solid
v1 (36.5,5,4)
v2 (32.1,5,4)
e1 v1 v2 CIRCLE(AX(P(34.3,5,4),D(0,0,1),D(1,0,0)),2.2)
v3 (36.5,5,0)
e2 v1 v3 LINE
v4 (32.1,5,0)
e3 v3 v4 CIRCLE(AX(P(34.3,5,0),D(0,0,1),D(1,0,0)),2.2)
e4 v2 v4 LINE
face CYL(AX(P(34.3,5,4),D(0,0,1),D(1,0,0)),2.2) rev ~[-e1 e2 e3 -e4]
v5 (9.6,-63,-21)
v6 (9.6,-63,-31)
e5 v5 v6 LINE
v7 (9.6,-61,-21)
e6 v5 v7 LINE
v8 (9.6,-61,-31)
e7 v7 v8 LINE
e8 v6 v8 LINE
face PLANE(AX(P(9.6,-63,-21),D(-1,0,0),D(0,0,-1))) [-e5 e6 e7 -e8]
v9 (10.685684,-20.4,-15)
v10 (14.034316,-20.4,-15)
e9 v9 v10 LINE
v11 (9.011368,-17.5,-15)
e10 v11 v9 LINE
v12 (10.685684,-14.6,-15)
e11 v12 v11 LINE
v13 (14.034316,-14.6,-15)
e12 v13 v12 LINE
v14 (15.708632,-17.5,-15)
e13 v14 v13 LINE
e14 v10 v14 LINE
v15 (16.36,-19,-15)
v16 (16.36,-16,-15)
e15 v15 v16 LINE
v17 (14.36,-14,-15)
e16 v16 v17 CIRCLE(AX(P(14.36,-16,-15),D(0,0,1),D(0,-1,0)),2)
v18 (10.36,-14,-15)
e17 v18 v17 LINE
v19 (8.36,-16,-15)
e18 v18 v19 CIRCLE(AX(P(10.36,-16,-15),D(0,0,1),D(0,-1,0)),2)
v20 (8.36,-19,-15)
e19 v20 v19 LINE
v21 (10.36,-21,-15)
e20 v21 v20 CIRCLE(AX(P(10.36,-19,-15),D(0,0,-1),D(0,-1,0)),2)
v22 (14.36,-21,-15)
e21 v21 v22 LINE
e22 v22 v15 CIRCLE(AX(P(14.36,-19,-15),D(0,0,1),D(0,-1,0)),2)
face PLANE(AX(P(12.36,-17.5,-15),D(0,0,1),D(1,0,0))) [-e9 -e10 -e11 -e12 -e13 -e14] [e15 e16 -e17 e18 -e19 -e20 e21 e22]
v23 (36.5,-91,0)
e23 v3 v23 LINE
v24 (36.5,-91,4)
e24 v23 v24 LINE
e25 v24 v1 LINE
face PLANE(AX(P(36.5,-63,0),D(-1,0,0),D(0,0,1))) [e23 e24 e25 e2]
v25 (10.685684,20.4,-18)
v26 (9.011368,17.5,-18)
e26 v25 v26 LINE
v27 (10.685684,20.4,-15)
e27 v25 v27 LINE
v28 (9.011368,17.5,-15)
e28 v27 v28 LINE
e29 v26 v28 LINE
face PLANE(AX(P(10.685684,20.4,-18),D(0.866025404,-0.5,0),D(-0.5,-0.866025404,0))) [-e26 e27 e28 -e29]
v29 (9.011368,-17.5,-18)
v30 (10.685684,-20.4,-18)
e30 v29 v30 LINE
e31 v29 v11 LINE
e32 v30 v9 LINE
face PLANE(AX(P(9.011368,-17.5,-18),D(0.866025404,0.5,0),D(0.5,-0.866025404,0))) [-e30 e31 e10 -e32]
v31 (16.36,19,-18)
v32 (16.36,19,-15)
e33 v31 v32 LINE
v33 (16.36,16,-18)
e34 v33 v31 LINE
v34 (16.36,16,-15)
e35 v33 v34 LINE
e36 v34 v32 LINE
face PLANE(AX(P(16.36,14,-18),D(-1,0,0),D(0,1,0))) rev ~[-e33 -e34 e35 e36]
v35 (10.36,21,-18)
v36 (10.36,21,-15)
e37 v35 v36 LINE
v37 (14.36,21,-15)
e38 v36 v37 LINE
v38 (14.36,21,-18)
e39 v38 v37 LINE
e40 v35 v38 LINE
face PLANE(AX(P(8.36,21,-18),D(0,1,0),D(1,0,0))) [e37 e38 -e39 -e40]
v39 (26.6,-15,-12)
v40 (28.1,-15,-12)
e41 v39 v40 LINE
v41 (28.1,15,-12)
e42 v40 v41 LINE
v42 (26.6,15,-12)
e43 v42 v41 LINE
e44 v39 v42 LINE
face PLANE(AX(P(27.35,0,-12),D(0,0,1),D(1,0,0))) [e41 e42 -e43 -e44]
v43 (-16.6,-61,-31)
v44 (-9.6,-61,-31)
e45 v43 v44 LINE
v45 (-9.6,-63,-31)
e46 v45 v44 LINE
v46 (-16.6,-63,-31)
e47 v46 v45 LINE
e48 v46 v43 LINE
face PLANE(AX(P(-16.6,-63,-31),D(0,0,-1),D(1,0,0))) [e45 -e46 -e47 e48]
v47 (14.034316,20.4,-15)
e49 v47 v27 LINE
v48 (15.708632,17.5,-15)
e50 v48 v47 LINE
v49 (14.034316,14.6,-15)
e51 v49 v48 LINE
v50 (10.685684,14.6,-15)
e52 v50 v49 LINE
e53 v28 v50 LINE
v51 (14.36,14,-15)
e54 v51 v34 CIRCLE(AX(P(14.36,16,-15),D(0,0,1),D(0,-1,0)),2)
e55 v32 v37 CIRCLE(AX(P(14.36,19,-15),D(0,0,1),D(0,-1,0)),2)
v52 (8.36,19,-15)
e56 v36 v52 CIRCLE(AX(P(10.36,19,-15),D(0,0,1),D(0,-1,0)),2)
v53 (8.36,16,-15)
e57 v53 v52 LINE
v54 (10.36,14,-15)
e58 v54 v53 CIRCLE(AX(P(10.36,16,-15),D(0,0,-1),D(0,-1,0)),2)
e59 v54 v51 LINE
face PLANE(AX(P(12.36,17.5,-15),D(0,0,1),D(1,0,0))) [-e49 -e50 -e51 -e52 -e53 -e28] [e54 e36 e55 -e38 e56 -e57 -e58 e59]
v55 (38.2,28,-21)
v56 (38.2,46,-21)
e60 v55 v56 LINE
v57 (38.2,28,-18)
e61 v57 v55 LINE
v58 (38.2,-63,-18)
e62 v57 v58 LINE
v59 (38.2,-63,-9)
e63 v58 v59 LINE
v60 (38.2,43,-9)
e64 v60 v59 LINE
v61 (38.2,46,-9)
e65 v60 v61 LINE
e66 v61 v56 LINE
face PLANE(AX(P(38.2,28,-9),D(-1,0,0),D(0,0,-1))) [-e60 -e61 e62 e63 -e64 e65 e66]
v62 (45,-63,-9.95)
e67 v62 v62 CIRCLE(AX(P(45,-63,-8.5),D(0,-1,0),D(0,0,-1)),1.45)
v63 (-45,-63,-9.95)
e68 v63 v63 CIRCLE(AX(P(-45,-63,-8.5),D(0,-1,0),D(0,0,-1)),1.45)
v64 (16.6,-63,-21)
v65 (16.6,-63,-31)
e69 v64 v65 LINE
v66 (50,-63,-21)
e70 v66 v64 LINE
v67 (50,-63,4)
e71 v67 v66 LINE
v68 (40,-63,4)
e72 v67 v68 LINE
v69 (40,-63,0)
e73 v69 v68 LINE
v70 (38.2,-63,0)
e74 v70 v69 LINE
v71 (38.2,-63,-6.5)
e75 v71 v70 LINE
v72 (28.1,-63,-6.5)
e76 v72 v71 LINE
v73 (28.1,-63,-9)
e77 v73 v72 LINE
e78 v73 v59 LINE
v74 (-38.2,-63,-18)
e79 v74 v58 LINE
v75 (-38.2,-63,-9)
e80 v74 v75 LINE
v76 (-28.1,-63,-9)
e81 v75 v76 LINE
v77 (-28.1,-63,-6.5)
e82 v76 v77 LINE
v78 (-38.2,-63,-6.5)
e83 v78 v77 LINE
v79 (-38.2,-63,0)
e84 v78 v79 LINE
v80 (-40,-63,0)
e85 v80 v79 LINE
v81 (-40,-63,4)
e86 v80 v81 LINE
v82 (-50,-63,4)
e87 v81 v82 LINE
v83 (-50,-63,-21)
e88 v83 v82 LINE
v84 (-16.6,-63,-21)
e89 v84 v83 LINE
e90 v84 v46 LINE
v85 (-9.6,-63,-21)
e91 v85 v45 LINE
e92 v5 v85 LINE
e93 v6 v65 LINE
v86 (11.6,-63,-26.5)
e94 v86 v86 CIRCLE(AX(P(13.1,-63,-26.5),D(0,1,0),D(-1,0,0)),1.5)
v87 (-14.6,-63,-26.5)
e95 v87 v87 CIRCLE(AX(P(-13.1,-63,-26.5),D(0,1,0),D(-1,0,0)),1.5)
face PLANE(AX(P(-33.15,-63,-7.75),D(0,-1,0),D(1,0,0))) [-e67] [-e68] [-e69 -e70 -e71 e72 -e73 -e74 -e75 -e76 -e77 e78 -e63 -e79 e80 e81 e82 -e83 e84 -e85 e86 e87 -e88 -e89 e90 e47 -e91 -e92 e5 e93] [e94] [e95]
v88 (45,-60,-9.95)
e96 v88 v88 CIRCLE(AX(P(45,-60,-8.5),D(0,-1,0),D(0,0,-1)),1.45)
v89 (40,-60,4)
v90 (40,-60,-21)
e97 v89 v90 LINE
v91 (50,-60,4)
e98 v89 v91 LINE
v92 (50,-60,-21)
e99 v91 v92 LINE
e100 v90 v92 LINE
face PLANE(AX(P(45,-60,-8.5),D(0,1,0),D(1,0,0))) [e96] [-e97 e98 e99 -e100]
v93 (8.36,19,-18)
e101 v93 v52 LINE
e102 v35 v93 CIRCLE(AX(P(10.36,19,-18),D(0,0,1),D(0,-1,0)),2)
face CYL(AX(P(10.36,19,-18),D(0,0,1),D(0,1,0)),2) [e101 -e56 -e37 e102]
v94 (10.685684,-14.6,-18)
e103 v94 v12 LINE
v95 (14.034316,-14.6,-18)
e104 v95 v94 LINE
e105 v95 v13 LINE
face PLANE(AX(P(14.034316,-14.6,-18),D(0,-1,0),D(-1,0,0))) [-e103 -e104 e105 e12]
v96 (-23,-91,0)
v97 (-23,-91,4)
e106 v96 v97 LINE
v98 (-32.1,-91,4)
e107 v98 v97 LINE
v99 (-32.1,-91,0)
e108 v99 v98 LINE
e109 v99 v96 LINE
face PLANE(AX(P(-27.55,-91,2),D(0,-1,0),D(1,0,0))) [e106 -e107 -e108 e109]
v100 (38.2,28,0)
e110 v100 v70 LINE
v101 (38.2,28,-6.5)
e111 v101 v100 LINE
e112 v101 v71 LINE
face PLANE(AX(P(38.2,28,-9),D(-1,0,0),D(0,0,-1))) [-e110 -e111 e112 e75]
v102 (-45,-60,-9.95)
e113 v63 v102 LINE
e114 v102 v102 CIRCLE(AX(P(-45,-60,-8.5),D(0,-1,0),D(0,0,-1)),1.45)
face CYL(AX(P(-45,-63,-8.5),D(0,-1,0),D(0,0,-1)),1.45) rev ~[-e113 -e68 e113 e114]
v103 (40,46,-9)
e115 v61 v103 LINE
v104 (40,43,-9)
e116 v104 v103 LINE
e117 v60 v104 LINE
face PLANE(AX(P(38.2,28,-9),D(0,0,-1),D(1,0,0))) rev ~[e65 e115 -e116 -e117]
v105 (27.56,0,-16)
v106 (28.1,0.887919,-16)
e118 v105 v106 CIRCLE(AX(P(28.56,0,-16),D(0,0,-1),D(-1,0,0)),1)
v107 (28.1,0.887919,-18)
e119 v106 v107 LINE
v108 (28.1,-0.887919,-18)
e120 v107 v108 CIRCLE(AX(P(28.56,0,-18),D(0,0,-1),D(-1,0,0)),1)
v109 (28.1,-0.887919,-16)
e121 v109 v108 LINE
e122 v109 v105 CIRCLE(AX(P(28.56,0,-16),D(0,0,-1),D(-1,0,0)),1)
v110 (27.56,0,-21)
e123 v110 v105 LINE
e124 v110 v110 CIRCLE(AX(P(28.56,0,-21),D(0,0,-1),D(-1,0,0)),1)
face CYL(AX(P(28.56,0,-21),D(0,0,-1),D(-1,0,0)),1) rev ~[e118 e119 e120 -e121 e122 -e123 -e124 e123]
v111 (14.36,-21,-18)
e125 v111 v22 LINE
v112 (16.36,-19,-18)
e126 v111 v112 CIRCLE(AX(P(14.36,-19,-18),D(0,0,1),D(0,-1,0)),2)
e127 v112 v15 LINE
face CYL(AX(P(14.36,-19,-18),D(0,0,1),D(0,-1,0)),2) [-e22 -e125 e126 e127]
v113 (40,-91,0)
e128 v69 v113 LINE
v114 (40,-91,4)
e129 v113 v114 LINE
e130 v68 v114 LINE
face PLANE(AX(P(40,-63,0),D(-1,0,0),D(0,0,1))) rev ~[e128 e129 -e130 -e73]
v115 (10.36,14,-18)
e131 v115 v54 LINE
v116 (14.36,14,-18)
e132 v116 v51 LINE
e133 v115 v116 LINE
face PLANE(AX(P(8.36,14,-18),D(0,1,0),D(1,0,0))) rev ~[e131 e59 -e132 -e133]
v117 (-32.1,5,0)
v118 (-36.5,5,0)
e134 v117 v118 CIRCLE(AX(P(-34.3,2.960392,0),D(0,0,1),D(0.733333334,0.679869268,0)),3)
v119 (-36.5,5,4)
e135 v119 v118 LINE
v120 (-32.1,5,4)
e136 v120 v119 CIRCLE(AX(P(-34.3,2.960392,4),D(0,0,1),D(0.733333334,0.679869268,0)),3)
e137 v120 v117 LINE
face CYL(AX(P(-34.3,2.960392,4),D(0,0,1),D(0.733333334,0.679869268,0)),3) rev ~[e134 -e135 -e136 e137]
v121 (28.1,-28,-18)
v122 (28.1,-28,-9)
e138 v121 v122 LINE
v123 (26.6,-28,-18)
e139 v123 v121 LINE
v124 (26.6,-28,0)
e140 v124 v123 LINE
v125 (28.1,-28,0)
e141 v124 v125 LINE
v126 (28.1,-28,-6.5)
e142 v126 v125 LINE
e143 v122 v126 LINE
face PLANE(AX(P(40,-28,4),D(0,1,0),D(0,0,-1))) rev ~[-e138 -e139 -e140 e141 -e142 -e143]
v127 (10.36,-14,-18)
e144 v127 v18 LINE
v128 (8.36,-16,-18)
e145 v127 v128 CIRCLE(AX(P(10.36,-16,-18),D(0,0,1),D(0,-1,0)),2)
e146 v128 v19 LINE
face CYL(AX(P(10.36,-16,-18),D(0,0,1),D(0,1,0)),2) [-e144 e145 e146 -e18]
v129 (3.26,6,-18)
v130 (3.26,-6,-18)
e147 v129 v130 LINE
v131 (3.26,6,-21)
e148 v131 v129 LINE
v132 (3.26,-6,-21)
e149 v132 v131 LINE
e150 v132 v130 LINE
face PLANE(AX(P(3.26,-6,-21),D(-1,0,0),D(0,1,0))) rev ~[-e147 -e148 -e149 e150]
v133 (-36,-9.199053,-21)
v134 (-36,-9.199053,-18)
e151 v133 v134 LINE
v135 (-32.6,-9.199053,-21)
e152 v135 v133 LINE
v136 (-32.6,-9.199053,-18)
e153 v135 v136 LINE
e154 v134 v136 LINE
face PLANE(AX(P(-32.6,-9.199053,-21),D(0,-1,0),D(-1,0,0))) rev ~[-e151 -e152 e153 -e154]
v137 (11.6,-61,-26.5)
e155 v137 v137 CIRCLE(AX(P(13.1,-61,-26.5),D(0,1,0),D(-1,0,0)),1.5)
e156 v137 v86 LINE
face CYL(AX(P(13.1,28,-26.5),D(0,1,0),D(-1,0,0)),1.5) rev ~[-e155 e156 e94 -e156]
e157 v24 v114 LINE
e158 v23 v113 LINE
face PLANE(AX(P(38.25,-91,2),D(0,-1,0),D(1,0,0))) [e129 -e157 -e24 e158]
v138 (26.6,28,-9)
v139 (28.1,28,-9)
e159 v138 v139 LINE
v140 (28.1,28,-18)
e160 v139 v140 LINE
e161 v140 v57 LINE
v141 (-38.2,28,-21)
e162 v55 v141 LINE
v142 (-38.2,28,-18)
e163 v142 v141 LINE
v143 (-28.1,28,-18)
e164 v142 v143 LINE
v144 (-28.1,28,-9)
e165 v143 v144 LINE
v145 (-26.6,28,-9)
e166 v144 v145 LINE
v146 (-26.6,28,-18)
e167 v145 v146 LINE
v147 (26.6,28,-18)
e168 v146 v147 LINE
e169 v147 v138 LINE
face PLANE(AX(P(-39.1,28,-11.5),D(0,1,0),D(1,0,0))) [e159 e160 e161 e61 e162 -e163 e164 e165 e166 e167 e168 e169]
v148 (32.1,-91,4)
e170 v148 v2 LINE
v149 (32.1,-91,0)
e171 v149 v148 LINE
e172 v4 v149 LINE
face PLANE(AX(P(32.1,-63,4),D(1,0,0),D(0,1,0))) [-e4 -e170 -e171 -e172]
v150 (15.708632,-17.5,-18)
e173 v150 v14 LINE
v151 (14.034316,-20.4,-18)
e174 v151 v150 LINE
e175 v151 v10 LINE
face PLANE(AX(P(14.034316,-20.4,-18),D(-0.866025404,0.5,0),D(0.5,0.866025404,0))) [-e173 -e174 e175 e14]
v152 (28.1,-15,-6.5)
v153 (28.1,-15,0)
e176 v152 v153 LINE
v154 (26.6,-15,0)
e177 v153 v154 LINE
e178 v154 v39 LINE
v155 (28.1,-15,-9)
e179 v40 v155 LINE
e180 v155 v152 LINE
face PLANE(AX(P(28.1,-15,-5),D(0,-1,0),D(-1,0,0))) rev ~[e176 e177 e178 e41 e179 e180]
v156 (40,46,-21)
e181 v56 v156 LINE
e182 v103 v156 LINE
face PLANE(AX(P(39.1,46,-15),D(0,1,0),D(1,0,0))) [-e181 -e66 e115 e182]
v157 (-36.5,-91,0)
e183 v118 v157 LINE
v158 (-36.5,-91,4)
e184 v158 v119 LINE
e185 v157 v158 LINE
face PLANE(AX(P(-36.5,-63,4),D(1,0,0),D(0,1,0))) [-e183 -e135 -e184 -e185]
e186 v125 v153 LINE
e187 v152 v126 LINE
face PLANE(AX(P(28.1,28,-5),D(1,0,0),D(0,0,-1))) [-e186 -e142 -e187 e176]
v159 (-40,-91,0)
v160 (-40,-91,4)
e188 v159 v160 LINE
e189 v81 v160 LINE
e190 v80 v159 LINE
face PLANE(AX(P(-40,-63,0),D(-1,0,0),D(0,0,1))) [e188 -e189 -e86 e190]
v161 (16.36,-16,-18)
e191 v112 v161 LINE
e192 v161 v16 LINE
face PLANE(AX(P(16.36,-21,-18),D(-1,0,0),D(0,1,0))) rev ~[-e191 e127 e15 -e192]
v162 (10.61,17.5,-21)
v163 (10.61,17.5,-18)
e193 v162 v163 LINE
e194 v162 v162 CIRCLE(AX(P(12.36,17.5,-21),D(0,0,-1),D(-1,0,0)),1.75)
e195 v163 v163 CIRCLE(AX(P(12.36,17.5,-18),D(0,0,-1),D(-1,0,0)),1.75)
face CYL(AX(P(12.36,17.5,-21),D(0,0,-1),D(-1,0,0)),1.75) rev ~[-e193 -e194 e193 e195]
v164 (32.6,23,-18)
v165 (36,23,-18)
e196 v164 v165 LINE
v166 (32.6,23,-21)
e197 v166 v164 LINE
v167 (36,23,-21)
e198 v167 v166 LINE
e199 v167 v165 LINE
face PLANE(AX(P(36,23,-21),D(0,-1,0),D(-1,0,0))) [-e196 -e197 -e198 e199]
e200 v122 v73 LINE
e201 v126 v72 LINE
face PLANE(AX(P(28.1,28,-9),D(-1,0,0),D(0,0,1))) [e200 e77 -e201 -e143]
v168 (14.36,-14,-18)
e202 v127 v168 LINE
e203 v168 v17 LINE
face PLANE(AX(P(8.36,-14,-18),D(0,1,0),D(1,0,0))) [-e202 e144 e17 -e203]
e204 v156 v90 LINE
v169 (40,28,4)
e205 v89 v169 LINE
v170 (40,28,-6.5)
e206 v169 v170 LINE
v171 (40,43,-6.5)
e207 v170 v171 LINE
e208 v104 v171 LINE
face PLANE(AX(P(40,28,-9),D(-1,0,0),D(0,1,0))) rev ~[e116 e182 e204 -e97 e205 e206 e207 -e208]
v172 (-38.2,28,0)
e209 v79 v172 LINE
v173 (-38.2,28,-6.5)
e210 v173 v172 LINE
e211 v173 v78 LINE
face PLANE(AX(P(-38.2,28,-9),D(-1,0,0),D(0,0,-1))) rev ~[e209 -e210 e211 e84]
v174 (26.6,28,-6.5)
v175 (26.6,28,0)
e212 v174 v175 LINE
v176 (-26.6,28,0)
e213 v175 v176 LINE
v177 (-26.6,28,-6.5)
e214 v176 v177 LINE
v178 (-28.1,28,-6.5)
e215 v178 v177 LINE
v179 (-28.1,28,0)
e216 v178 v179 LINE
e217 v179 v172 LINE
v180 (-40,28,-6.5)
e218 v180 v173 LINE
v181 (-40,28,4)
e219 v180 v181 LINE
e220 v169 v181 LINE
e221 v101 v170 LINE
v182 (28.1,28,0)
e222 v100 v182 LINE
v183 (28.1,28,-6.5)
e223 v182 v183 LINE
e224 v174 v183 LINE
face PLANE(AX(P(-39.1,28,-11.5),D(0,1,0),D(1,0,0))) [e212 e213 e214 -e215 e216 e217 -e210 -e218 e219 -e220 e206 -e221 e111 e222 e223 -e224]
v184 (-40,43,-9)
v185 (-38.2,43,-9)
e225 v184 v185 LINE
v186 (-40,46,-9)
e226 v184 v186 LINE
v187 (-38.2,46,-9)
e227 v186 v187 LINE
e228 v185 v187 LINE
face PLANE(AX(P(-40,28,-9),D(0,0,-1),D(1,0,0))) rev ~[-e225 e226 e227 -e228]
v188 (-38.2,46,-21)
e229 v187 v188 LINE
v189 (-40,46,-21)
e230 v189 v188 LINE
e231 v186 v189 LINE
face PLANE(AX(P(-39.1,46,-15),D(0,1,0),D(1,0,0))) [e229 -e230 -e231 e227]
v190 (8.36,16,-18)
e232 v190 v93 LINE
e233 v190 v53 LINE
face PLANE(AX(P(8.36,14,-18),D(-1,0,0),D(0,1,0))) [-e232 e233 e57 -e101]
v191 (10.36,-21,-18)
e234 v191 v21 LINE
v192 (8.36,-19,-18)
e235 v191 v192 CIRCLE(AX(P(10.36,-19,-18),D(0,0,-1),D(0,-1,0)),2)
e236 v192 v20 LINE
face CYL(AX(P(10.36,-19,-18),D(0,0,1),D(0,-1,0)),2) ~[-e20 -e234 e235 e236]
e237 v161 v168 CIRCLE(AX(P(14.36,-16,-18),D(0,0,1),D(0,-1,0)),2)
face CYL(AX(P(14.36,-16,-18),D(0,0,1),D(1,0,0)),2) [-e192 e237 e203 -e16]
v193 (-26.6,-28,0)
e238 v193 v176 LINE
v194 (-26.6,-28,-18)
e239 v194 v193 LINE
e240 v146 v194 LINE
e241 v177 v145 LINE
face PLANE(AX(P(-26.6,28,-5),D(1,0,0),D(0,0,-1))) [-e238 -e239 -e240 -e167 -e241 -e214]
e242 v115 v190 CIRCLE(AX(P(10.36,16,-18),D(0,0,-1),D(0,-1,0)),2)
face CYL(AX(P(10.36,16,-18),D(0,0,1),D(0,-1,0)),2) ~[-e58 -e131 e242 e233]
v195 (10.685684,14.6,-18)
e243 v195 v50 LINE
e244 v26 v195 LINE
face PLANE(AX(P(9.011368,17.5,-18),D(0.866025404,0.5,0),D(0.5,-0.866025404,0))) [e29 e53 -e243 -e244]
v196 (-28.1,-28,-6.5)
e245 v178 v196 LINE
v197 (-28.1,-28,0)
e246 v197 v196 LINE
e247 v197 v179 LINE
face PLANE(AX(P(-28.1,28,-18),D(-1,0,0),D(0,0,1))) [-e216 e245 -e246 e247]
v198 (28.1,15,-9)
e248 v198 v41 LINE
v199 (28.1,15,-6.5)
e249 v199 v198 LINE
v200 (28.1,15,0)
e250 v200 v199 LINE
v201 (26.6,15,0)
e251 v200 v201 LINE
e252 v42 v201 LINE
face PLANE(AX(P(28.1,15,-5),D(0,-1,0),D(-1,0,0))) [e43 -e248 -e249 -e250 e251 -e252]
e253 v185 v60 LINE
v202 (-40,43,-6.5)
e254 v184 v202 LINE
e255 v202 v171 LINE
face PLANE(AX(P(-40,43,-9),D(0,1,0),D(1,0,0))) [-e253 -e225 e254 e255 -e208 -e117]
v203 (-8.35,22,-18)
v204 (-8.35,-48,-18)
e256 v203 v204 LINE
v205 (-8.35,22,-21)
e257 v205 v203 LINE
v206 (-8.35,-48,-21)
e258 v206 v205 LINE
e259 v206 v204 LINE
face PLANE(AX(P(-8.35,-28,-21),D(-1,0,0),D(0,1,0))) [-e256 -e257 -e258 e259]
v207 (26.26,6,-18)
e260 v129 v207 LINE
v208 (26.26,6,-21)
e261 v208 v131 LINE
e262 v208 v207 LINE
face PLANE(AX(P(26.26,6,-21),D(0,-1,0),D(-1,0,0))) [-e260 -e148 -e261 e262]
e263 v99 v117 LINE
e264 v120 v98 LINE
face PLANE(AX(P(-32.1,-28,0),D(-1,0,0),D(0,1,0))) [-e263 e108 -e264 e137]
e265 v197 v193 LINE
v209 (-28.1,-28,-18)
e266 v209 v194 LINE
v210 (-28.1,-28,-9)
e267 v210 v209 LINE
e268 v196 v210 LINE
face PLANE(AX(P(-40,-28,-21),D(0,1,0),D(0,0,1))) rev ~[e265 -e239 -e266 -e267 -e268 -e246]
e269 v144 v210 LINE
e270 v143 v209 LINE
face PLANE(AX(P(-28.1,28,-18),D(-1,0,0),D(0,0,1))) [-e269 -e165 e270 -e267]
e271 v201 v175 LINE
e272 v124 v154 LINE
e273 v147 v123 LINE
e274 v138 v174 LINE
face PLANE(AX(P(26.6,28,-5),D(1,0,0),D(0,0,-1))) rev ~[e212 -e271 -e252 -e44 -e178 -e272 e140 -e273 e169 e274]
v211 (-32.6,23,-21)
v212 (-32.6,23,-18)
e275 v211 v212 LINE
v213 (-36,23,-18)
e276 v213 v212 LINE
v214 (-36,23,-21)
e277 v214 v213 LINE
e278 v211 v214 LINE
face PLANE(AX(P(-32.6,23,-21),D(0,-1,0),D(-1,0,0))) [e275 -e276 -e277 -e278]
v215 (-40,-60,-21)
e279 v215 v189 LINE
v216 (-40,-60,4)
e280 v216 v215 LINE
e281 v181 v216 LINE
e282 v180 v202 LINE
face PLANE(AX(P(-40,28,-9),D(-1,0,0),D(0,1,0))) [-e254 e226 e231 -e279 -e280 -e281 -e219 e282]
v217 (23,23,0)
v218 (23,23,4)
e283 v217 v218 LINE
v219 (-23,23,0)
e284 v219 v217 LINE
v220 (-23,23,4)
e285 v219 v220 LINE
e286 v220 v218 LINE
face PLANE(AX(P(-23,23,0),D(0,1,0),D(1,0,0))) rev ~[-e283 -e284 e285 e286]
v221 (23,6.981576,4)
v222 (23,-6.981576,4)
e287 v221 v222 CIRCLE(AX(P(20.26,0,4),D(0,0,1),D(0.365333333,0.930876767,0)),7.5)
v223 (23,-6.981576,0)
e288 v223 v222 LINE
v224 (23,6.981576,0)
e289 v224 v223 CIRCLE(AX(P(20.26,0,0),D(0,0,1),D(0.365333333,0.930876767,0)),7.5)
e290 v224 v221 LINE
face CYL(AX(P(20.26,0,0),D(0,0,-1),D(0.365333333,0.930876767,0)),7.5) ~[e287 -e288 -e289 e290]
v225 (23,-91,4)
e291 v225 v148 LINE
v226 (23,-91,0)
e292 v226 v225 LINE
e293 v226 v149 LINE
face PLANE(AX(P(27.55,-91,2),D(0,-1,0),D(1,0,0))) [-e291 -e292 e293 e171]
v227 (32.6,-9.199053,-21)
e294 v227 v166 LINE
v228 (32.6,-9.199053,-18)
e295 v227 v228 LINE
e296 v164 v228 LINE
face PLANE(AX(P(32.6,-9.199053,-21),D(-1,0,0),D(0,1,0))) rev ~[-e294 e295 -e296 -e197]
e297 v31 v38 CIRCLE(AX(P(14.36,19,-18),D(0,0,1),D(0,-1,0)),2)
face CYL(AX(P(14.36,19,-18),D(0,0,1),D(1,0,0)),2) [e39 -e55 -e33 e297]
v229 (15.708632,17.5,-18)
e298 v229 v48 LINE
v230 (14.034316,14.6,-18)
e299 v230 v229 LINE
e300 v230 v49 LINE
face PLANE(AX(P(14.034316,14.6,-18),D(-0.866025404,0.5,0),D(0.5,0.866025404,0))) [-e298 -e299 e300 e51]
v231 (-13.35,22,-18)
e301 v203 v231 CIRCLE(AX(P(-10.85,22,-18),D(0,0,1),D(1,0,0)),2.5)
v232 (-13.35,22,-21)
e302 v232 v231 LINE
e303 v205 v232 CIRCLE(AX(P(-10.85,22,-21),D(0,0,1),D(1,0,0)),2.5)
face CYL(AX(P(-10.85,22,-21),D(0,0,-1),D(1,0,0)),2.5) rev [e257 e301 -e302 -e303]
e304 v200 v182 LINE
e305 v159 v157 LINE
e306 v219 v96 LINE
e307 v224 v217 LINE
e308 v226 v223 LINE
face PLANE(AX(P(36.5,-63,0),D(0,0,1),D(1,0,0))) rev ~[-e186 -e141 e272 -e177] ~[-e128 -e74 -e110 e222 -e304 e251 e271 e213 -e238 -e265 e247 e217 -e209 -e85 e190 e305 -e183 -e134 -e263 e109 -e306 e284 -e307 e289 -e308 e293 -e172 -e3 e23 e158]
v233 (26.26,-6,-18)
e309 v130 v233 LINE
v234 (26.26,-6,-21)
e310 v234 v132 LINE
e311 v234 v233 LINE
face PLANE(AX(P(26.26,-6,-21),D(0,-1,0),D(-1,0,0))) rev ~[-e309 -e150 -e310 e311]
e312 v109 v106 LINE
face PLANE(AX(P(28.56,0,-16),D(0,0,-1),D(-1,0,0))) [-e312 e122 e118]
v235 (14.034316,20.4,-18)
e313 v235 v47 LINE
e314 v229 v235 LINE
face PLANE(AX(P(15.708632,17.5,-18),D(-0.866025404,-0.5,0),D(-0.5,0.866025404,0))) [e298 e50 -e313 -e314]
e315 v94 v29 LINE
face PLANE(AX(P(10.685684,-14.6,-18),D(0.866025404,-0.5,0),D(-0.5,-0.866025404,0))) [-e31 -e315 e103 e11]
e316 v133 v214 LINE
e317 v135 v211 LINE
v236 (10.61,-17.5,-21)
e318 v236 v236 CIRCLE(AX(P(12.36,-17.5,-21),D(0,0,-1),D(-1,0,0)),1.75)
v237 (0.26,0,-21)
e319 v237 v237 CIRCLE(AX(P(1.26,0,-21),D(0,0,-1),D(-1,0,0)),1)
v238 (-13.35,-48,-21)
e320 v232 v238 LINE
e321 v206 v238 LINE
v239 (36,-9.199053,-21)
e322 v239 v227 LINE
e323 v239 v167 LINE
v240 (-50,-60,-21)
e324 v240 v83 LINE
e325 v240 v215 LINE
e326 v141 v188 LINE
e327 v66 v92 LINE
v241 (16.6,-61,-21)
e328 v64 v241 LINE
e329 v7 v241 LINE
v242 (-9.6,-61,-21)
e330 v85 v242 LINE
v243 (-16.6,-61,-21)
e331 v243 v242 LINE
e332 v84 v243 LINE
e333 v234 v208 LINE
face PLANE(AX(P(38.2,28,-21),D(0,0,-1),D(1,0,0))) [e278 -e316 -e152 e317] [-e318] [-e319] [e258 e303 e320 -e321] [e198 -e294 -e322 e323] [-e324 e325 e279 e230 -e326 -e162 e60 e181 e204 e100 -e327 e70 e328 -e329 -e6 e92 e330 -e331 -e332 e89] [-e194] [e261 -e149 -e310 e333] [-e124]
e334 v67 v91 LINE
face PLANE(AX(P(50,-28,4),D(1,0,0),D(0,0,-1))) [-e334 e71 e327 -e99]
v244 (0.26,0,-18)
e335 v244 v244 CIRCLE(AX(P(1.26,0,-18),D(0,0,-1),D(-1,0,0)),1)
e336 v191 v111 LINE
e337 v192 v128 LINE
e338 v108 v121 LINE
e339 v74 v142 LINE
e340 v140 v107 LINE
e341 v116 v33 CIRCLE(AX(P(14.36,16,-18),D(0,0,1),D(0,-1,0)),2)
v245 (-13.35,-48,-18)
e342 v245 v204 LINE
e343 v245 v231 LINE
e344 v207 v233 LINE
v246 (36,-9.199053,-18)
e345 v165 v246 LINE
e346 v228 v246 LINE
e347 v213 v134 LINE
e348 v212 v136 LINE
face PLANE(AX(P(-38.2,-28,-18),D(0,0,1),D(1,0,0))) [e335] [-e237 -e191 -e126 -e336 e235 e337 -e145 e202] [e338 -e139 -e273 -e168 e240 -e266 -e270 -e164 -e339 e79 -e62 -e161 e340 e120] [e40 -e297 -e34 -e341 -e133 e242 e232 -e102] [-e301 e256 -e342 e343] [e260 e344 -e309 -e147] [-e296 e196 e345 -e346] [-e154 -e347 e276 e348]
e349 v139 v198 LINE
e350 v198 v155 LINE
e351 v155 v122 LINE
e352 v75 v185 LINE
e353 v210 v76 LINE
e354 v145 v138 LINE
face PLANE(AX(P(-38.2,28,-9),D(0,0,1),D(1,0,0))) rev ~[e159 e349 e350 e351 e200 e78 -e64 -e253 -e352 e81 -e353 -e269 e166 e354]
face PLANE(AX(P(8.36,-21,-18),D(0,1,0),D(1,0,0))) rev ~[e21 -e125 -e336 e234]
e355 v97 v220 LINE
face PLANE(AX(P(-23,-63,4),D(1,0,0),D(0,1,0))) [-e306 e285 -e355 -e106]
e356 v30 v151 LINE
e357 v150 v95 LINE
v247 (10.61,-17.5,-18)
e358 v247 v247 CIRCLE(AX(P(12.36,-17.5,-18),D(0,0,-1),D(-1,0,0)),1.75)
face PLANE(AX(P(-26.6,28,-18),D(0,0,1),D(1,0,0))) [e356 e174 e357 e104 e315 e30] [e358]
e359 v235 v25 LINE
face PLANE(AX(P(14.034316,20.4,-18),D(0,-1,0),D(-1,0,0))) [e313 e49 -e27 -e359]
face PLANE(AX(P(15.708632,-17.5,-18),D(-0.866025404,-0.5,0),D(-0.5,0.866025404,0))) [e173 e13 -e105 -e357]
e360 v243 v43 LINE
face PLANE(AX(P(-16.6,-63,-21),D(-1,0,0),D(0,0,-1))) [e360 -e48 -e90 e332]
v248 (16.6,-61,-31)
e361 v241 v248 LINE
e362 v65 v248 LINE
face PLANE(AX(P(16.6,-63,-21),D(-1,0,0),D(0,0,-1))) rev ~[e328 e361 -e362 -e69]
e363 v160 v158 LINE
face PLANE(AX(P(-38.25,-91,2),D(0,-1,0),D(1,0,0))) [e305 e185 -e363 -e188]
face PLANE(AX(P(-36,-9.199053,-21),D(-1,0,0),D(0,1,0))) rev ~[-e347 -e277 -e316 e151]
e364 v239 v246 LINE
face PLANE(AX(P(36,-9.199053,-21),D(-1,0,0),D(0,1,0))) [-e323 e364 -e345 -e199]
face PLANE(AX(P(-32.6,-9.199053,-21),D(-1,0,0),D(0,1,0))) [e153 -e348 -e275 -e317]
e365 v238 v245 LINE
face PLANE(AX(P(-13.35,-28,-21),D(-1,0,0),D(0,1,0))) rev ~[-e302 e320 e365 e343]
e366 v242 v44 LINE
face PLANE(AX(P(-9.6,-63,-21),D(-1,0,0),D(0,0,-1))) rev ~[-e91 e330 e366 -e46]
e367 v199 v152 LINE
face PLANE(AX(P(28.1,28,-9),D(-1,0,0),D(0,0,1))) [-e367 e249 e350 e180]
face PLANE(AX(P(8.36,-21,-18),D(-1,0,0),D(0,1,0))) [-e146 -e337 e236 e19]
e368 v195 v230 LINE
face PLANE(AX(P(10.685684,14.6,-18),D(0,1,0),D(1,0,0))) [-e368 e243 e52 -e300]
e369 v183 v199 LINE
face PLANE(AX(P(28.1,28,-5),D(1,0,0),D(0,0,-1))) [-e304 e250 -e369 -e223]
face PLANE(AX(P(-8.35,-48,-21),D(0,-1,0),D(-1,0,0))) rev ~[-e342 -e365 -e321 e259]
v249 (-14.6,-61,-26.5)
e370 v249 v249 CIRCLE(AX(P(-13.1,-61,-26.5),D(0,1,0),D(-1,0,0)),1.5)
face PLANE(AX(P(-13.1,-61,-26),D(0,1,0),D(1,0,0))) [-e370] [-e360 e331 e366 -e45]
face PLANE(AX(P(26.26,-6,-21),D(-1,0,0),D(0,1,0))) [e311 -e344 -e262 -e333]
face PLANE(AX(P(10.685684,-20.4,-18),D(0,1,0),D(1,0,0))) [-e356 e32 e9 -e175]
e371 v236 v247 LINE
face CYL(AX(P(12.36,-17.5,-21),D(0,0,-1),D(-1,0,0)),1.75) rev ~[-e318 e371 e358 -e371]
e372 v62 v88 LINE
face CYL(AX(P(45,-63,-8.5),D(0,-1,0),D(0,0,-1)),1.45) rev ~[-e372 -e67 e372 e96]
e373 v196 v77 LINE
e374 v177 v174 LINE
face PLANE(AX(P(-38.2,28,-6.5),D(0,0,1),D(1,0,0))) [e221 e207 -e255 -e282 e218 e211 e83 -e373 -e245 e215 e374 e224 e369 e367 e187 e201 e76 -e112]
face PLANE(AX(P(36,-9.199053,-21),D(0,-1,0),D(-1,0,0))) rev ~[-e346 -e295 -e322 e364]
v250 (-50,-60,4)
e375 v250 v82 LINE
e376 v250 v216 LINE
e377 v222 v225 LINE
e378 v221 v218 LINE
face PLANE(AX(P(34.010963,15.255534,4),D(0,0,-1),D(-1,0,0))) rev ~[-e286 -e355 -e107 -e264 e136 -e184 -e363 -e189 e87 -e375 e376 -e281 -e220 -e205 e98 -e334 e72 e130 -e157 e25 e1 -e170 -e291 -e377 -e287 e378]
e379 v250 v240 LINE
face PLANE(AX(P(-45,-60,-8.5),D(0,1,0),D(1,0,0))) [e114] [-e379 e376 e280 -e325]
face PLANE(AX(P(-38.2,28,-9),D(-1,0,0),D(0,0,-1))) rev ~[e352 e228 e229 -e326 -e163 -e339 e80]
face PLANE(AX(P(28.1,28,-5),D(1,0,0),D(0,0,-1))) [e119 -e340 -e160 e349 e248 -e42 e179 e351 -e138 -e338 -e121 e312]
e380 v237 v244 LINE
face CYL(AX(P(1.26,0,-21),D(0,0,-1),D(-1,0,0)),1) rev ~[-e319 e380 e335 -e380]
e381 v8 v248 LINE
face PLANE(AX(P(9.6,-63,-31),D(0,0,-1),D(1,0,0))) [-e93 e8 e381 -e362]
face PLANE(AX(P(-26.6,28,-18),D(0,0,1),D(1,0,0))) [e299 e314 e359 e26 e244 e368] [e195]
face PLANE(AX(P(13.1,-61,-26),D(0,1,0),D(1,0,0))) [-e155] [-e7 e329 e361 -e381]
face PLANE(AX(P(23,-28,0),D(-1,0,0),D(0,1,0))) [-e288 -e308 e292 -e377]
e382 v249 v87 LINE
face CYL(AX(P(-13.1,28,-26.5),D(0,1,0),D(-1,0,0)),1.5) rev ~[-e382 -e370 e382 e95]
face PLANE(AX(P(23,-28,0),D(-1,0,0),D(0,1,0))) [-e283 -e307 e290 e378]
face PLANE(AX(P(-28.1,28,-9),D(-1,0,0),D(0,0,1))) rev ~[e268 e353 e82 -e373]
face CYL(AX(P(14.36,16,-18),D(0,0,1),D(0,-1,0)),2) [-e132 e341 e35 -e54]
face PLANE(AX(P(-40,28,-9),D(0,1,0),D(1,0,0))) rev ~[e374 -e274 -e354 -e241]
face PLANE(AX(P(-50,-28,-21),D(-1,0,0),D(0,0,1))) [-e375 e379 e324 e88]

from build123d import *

# Parameters (mm, degrees)
SKETCH1_W            = 9.1
SKETCH1_H            = 51
SKETCH1_W_2          = 23
SKETCH1_H_2          = 5
BOSS_EXTRUDE1_DEPTH  = 4
SKETCH2_W            = 1.8
SKETCH2_H            = 56
SKETCH2_W_2          = 1.5
BOSS_EXTRUDE2_DEPTH  = 5
SKETCH3_W            = 1.5
SKETCH3_H            = 30
CUT_EXTRUDE1_DEPTH   = 5
SKETCH4_W            = 1.8
SKETCH4_H            = 13
SKETCH4_W_2          = 1.5
SKETCH4_H_2          = 3
SKETCH4_W_3          = 10.1
SKETCH4_W_4          = 53.2
BOSS_EXTRUDE3_DEPTH  = 56
SKETCH5_R            = 1.75
SKETCH5_R_2          = 4.75
CUT_EXTRUDE2_DEPTH   = 3
SKETCH6_W            = 8
SKETCH6_H            = 7
BOSS_EXTRUDE4_DEPTH  = 3
FILLET1_R            = 2
SKETCH7_W            = 1.5
SKETCH7_H            = 30
CUT_EXTRUDE3_DEPTH   = 7
SKETCH8_W            = 5
SKETCH8_H            = 50
CUT_EXTRUDE4_DEPTH   = 3
SKETCH11_W           = 7
SKETCH11_H           = 3
BOSS_EXTRUDE5_DEPTH  = 10
SKETCH12_W           = 25
SKETCH12_H           = 3
BOSS_EXTRUDE6_DEPTH  = 10
SKETCH13_W           = 25
SKETCH13_H           = 3
BOSS_EXTRUDE7_DEPTH  = 10
SKETCH14_R           = 1.75
CUT_EXTRUDE6_DEPTH   = 3
BOSS_EXTRUDE8_START  = -4
BOSS_EXTRUDE8_DEPTH  = 4
SKETCH17_W           = 3.4
SKETCH17_H           = 32.199052503
CUT_EXTRUDE8_DEPTH   = 4
SKETCH18_W           = 23
SKETCH18_H           = 12
CUT_EXTRUDE9_DEPTH   = 10
SKETCH19_W           = 76.4
SKETCH19_H           = 18
BOSS_EXTRUDE10_DEPTH = 35
SKETCH21_R           = 1.45
CUT_EXTRUDE11_DEPTH  = 109.360509412
SKETCH20_W           = 10
SKETCH20_H           = 25
SKETCH20_W_2         = 7
SKETCH20_H_2         = 10
CUT_EXTRUDE10_DEPTH  = 35
SKETCH22_W           = 4.4
SKETCH22_H           = 35
CUT_EXTRUDE12_DEPTH  = 10
SKETCH23_W           = 46
SKETCH23_H           = 35
CUT_EXTRUDE13_DEPTH  = 10
SKETCH25_W           = 1.8
SKETCH25_H           = 12
BOSS_EXTRUDE12_DEPTH = 18
SKETCH27_R           = 1
CUT_EXTRUDE15_DEPTH  = 5
SKETCH28_W           = 7
SKETCH28_H           = 10
CUT_EXTRUDE16_DEPTH  = 122.231184107
SKETCH29_W           = 7
SKETCH29_H           = 10
BOSS_EXTRUDE13_DEPTH = 2
SKETCH30_R           = 1.5
CUT_EXTRUDE17_DEPTH  = 109.360509412
BOSS_EXTRUDE14_DEPTH = 4
SKETCH33_W           = 3.5
SKETCH33_H           = 4
SKETCH33_W_2         = 9.1
BOSS_EXTRUDE15_DEPTH = 28
BOSS_EXTRUDE16_DEPTH = 4
SKETCH35_W           = 80
SKETCH35_H           = 15
BOSS_EXTRUDE17_DEPTH = 2.5
SKETCH36_W           = 10.1
SKETCH36_H           = 2.5
BOSS_EXTRUDE18_DEPTH = 91
SKETCH37_W           = 5
SKETCH37_H           = 20
CUT_EXTRUDE18_DEPTH  = 5


with BuildPart() as part:
    # Sketch1 → Boss-Extrude1 (new body)
    with BuildSketch(Plane.XY):
        with BuildLine():
            Line((-23, 23), (-23, 28))
            Line((-23, 28), (-40, 28))
            Line((-40, 28), (-40, -28))
            Line((-40, -28), (-36.5, -28))
            Line((-36.5, -28), (-36.5, 23))
            ThreePointArc((-36.5, 23), (-34.3, 25.2), (-32.1, 23))
            Line((-32.1, 23), (-23, 23))
        make_face()
        with Locations((-27.55, -2.5)):
            Rectangle(SKETCH1_W, SKETCH1_H)
        with Locations((-11.5, 25.5)):
            Rectangle(SKETCH1_W_2, SKETCH1_H_2)
        with Locations((27.55, -2.5)):
            Rectangle(SKETCH1_W, SKETCH1_H)
        with Locations((11.5, 25.5)):
            Rectangle(SKETCH1_W_2, SKETCH1_H_2)
        with BuildLine():
            Line((40, 28), (23, 28))
            Line((23, 28), (23, 23))
            Line((23, 23), (32.1, 23))
            ThreePointArc((32.1, 23), (34.3, 25.2), (36.5, 23))
            Line((36.5, 23), (36.5, -28))
            Line((36.5, -28), (40, -28))
            Line((40, -28), (40, 28))
        make_face()
    extrude(amount=BOSS_EXTRUDE1_DEPTH)

    # Sketch2 → Boss-Extrude2 (add)
    with BuildSketch(Plane(origin=(0, 0, 0), x_dir=(-1, 0, 0), z_dir=(0, 0, -1))):
        with Locations((-39.1, 0)):
            Rectangle(SKETCH2_W, SKETCH2_H)
        with Locations((-27.35, 0)):
            Rectangle(SKETCH2_W_2, SKETCH2_H)
        with Locations((27.35, 0)):
            Rectangle(SKETCH2_W_2, SKETCH2_H)
        with Locations((39.1, 0)):
            Rectangle(SKETCH2_W, SKETCH2_H)
    extrude(amount=BOSS_EXTRUDE2_DEPTH)

    # Sketch3 → Cut-Extrude1 (cut)
    with BuildSketch(Plane(origin=(0, 0, -5), x_dir=(-1, 0, 0), z_dir=(0, 0, -1))):
        with Locations((-27.35, 0)):
            Rectangle(SKETCH3_W, SKETCH3_H)
    extrude(amount=-CUT_EXTRUDE1_DEPTH, mode=Mode.SUBTRACT)

    # Sketch4 → Boss-Extrude3 (add)
    with BuildSketch(Plane(origin=(0, 28, 0), x_dir=(1, 0, 0), z_dir=(0, 1, 0))):
        with Locations((-39.1, 11.5)):
            Rectangle(SKETCH4_W, SKETCH4_H)
        with Locations((-27.35, 11.5)):
            Rectangle(SKETCH4_W_2, SKETCH4_H)
        with Locations((-27.35, 19.5)):
            Rectangle(SKETCH4_W_2, SKETCH4_H_2)
        with Locations((-33.15, 19.5)):
            Rectangle(SKETCH4_W_3, SKETCH4_H_2)
        with Locations((-39.1, 19.5)):
            Rectangle(SKETCH4_W, SKETCH4_H_2)
        with Locations((0, 19.5)):
            Rectangle(SKETCH4_W_4, SKETCH4_H_2)
        with Locations((27.35, 11.5)):
            Rectangle(SKETCH4_W_2, SKETCH4_H)
        with Locations((27.35, 19.5)):
            Rectangle(SKETCH4_W_2, SKETCH4_H_2)
        with Locations((33.15, 19.5)):
            Rectangle(SKETCH4_W_3, SKETCH4_H_2)
        with Locations((39.1, 19.5)):
            Rectangle(SKETCH4_W, SKETCH4_H_2)
        with Locations((39.1, 11.5)):
            Rectangle(SKETCH4_W, SKETCH4_H)
    extrude(amount=-BOSS_EXTRUDE3_DEPTH)

    # Sketch5 → Cut-Extrude2 (cut)
    with BuildSketch(Plane(origin=(0, 0, -21), x_dir=(-1, 0, 0), z_dir=(0, 0, -1))):
        with Locations((-12.36, 17.5)):
            Circle(SKETCH5_R)
        with Locations((-12.36, -17.5)):
            Circle(SKETCH5_R)
        with Locations((-20.26, 0)):
            Circle(SKETCH5_R_2)
    extrude(amount=-CUT_EXTRUDE2_DEPTH, mode=Mode.SUBTRACT)

    # Sketch6 → Boss-Extrude4 (add)
    # profile 1 of 2: a face of its own
    with BuildSketch(Plane.XY.offset(-18)):
        with Locations((12.36, 17.5)):
            Rectangle(SKETCH6_W, SKETCH6_H)
        Polygon((10.685684219, 14.6), (14.034315781, 14.6), (15.708631561, 17.5), (14.034315781, 20.4), (10.685684219, 20.4), (9.011368439, 17.5), align=None, mode=Mode.SUBTRACT)
    # profile 2 of 2: a face of its own
    with BuildSketch(Plane.XY.offset(-18)):
        with Locations((12.36, -17.5)):
            Rectangle(SKETCH6_W, SKETCH6_H)
        Polygon((10.685684219, -20.4), (14.034315781, -20.4), (15.708631561, -17.5), (14.034315781, -14.6), (10.685684219, -14.6), (9.011368439, -17.5), align=None, mode=Mode.SUBTRACT)
    extrude(amount=BOSS_EXTRUDE4_DEPTH)

    # Fillet1
    fillet1_edges = [part.edges().sort_by_distance(p)[0] for p in [
        (16.36, 14, -16.5),
        (16.36, 21, -16.5),
        (8.36, 21, -16.5),
        (8.36, 14, -16.5),
        (16.36, -21, -16.5),
        (16.36, -14, -16.5),
        (8.36, -14, -16.5),
        (8.36, -21, -16.5),
    ]]
    fillet(fillet1_edges, radius=FILLET1_R)

    # Sketch7 → Cut-Extrude3 (cut)
    with BuildSketch(Plane.XY.offset(-5)):
        with Locations((27.35, 0)):
            Rectangle(SKETCH7_W, SKETCH7_H)
    extrude(amount=-CUT_EXTRUDE3_DEPTH, mode=Mode.SUBTRACT)

    # Sketch8 → Cut-Extrude4 (cut)
    with BuildSketch(Plane(origin=(0, 0, -21), x_dir=(-1, 0, 0), z_dir=(0, 0, -1))):
        with Locations((10.85, -3)):
            Rectangle(SKETCH8_W, SKETCH8_H)
        with BuildLine():
            ThreePointArc((8.35, 22), (10.85, 24.5), (13.35, 22))
            Line((13.35, 22), (8.35, 22))
        make_face()
    extrude(amount=-CUT_EXTRUDE4_DEPTH, mode=Mode.SUBTRACT)

    # Sketch11 → Boss-Extrude5 (add)
    with BuildSketch(Plane(origin=(0, 0, -21), x_dir=(-1, 0, 0), z_dir=(0, 0, -1))):
        with Locations((-20.5, -26.5)):
            Rectangle(SKETCH11_W, SKETCH11_H)
        with Locations((20.5, -26.5)):
            Rectangle(SKETCH11_W, SKETCH11_H)
    extrude(amount=BOSS_EXTRUDE5_DEPTH)

    # Sketch12 → Boss-Extrude6 (add)
    with BuildSketch(Plane(origin=(40, 0, 0), x_dir=(0, 0, -1), z_dir=(1, 0, 0))):
        with Locations((8.5, -26.5)):
            Rectangle(SKETCH12_W, SKETCH12_H)
    extrude(amount=BOSS_EXTRUDE6_DEPTH)

    # Sketch13 → Boss-Extrude7 (add)
    with BuildSketch(Plane.ZY.offset(40)):
        with Locations((-8.5, -26.5)):
            Rectangle(SKETCH13_W, SKETCH13_H)
    extrude(amount=BOSS_EXTRUDE7_DEPTH)

    # Sketch14 → Cut-Extrude6 (cut)
    with BuildSketch(Plane(origin=(0, -25, 0), x_dir=(1, 0, 0), z_dir=(0, 1, 0))):
        with Locations(Location((20.5, 26, 0), (0, 0, 180))):
            Circle(SKETCH14_R)
        with Locations(Location((45, 8.5, 0), (0, 0, 180))):
            Circle(SKETCH14_R)
        with Locations(Location((-20.5, 26, 0), (0, 0, 180))):
            Circle(SKETCH14_R)
        with Locations(Location((-45, 8.5, 0), (0, 0, 180))):
            Circle(SKETCH14_R)
    extrude(amount=-CUT_EXTRUDE6_DEPTH, mode=Mode.SUBTRACT)

    # Sketch15 → Boss-Extrude8 (add)
    with BuildSketch(Plane.XY.offset(4).offset(BOSS_EXTRUDE8_START)):
        with BuildLine():
            ThreePointArc((23, 3.880064432), (24.477671158, 2.184891302), (25.01, 0))
            ThreePointArc((25.01, 0), (24.477671158, -2.184891302), (23, -3.880064432))
            Line((23, -3.880064432), (23, -6.981575753))
            ThreePointArc((23, -6.981575753), (26.456773354, -4.224926035), (27.76, 0))
            ThreePointArc((27.76, 0), (26.456773354, 4.224926035), (23, 6.981575753))
            Line((23, 6.981575753), (23, 3.880064432))
        make_face()
        with BuildLine():
            ThreePointArc((23, -3.880064432), (15.51, 0), (23, 3.880064432))
            Line((23, 3.880064432), (23, 6.981575753))
            ThreePointArc((23, 6.981575753), (12.76, 0), (23, -6.981575753))
            Line((23, -6.981575753), (23, -3.880064432))
        make_face()
        with BuildLine():
            ThreePointArc((23, -3.880064432), (24.477671158, -2.184891302), (25.01, 0))
            ThreePointArc((25.01, 0), (24.477671158, 2.184891302), (23, 3.880064432))
            Line((23, 3.880064432), (23, -3.880064432))
        make_face()
        with BuildLine():
            Line((23, -3.880064432), (23, 3.880064432))
            ThreePointArc((23, 3.880064432), (15.51, 0), (23, -3.880064432))
        make_face()
    extrude(amount=BOSS_EXTRUDE8_DEPTH)

    # Sketch17 → Cut-Extrude8 (cut)
    with BuildSketch(Plane(origin=(0, 0, -21), x_dir=(-1, 0, 0), z_dir=(0, 0, -1))):
        with Locations((34.3, 6.900473748)):
            Rectangle(SKETCH17_W, SKETCH17_H)
        with Locations((-34.3, 6.900473748)):
            Rectangle(SKETCH17_W, SKETCH17_H)
    extrude(amount=-CUT_EXTRUDE8_DEPTH, mode=Mode.SUBTRACT)

    # Sketch18 → Cut-Extrude9 (cut)
    with BuildSketch(Plane(origin=(0, 0, -21), x_dir=(-1, 0, 0), z_dir=(0, 0, -1))):
        with Locations((-14.76, 0)):
            Rectangle(SKETCH18_W, SKETCH18_H)
    extrude(amount=-CUT_EXTRUDE9_DEPTH, mode=Mode.SUBTRACT)

    # Sketch19 → Boss-Extrude10 (add)
    with BuildSketch(Plane.XZ.offset(28)):
        Polygon((-50, 4), (-38.2, 4), (38.2, 4), (50, 4), (50, -21), (38.2, -21), (24, -21), (24, -31), (17, -31), (17, -21), (-17, -21), (-17, -31), (-24, -31), (-24, -21), (-38.2, -21), (-50, -21), align=None)
        with Locations((0, -9)):
            Rectangle(SKETCH19_W, SKETCH19_H, mode=Mode.SUBTRACT)
    extrude(amount=BOSS_EXTRUDE10_DEPTH)

    # Sketch21 → Cut-Extrude11 (cut, through all)
    with BuildSketch(Plane.XZ.offset(63)):
        with Locations(Location((45, -8.5, 0), (0, 0, 270))):
            Circle(SKETCH21_R)
        with Locations(Location((20.5, -26, 0), (0, 0, 270))):
            Circle(SKETCH21_R)
        with Locations(Location((-20.5, -26, 0), (0, 0, 270))):
            Circle(SKETCH21_R)
        with Locations(Location((-45, -8.5, 0), (0, 0, 270))):
            Circle(SKETCH21_R)
    extrude(amount=-CUT_EXTRUDE11_DEPTH, mode=Mode.SUBTRACT)

    # Sketch20 → Cut-Extrude10 (cut)
    with BuildSketch(Plane(origin=(0, -25, 0), x_dir=(1, 0, 0), z_dir=(0, 1, 0))):
        with Locations((-45, 8.5)):
            Rectangle(SKETCH20_W, SKETCH20_H)
        with Locations((45, 8.5)):
            Rectangle(SKETCH20_W, SKETCH20_H)
        with Locations((-20.5, 26)):
            Rectangle(SKETCH20_W_2, SKETCH20_H_2)
        with Locations((20.5, 26)):
            Rectangle(SKETCH20_W_2, SKETCH20_H_2)
    extrude(amount=-CUT_EXTRUDE10_DEPTH, mode=Mode.SUBTRACT)

    # Sketch22 → Cut-Extrude12 (cut)
    with BuildSketch(Plane.XY.offset(4)):
        with Locations((-34.3, -45.5)):
            Rectangle(SKETCH22_W, SKETCH22_H)
        with Locations((34.3, -45.5)):
            Rectangle(SKETCH22_W, SKETCH22_H)
    extrude(amount=-CUT_EXTRUDE12_DEPTH, mode=Mode.SUBTRACT)

    # Sketch23 → Cut-Extrude13 (cut)
    with BuildSketch(Plane.XY.offset(4)):
        with Locations((0, -45.5)):
            Rectangle(SKETCH23_W, SKETCH23_H)
    extrude(amount=-CUT_EXTRUDE13_DEPTH, mode=Mode.SUBTRACT)

    # Sketch25 → Boss-Extrude12 (add)
    with BuildSketch(Plane(origin=(0, 28, 0), x_dir=(1, 0, 0), z_dir=(0, 1, 0))):
        with Locations((39.1, 15)):
            Rectangle(SKETCH25_W, SKETCH25_H)
        with Locations((-39.1, 15)):
            Rectangle(SKETCH25_W, SKETCH25_H)
    extrude(amount=BOSS_EXTRUDE12_DEPTH)

    # Sketch27 → Cut-Extrude15 (cut)
    with BuildSketch(Plane(origin=(0, 0, -21), x_dir=(-1, 0, 0), z_dir=(0, 0, -1))):
        with Locations((-1.26, 0)):
            Circle(SKETCH27_R)
        with Locations((-28.56, 0)):
            Circle(SKETCH27_R)
    extrude(amount=-CUT_EXTRUDE15_DEPTH, mode=Mode.SUBTRACT)

    # Sketch28 → Cut-Extrude16 (cut, through all)
    with BuildSketch(Plane(origin=(0, -60, 0), x_dir=(1, 0, 0), z_dir=(0, 1, 0))):
        with Locations((20.5, 26)):
            Rectangle(SKETCH28_W, SKETCH28_H)
        with Locations((-20.5, 26)):
            Rectangle(SKETCH28_W, SKETCH28_H)
    extrude(amount=-CUT_EXTRUDE16_DEPTH, mode=Mode.SUBTRACT)

    # Sketch29 → Boss-Extrude13 (add)
    with BuildSketch(Plane(origin=(0, -63, 0), x_dir=(1, 0, 0), z_dir=(0, 1, 0))):
        with Locations((13.1, 26)):
            Rectangle(SKETCH29_W, SKETCH29_H)
        with Locations((-13.1, 26)):
            Rectangle(SKETCH29_W, SKETCH29_H)
    extrude(amount=BOSS_EXTRUDE13_DEPTH)

    # Sketch30 → Cut-Extrude17 (cut, through all)
    with BuildSketch(Plane(origin=(0, 28, 0), x_dir=(1, 0, 0), z_dir=(0, 1, 0))):
        with Locations(Location((13.1, 26.5, 0), (0, 0, 180))):
            Circle(SKETCH30_R)
        with Locations(Location((-13.1, 26.5, 0), (0, 0, 180))):
            Circle(SKETCH30_R)
    extrude(amount=-CUT_EXTRUDE17_DEPTH, mode=Mode.SUBTRACT)

    # Sketch32 → Boss-Extrude14 (add)
    with BuildSketch(Plane.XY.offset(4)):
        with BuildLine():
            Line((-38, 26), (-30, 26))
            Line((-30, 26), (-30, 5))
            Line((-30, 5), (-32.1, 5))
            ThreePointArc((-32.1, 5), (-34.3, 5.960392195), (-36.5, 5))
            Line((-36.5, 5), (-38, 5))
            Line((-38, 5), (-38, 26))
        make_face()
    extrude(amount=-BOSS_EXTRUDE14_DEPTH)

    # Sketch33 → Boss-Extrude15 (add)
    with BuildSketch(Plane.XZ.offset(63)):
        with Locations((38.25, 2)):
            Rectangle(SKETCH33_W, SKETCH33_H)
        with Locations((-38.25, 2)):
            Rectangle(SKETCH33_W, SKETCH33_H)
        with Locations((-27.55, 2)):
            Rectangle(SKETCH33_W_2, SKETCH33_H)
        with Locations((27.55, 2)):
            Rectangle(SKETCH33_W_2, SKETCH33_H)
    extrude(amount=BOSS_EXTRUDE15_DEPTH)

    # Sketch34 → Boss-Extrude16 (add)
    with BuildSketch(Plane.XY.offset(4)):
        with BuildLine():
            Line((30, 26), (38, 26))
            Line((38, 26), (38, 5))
            Line((38, 5), (36.5, 5))
            ThreePointArc((36.5, 5), (34.3, 7.2), (32.1, 5))
            Line((32.1, 5), (30, 5))
            Line((30, 5), (30, 26))
        make_face()
    extrude(amount=-BOSS_EXTRUDE16_DEPTH)

    # Sketch35 → Boss-Extrude17 (add)
    with BuildSketch(Plane.XY.offset(-9)):
        with Locations((0, 35.5)):
            Rectangle(SKETCH35_W, SKETCH35_H)
    extrude(amount=BOSS_EXTRUDE17_DEPTH)

    # Sketch36 → Boss-Extrude18 (add)
    with BuildSketch(Plane.XZ.offset(-28)):
        with Locations((-33.15, -7.75)):
            Rectangle(SKETCH36_W, SKETCH36_H)
        with Locations((33.15, -7.75)):
            Rectangle(SKETCH36_W, SKETCH36_H)
    extrude(amount=BOSS_EXTRUDE18_DEPTH)

    # Sketch37 → Cut-Extrude18 (cut)
    with BuildSketch(Plane(origin=(0, 0, -21), x_dir=(-1, 0, 0), z_dir=(0, 0, -1))):
        with Locations((10.85, -38)):
            Rectangle(SKETCH37_W, SKETCH37_H)
    extrude(amount=-CUT_EXTRUDE18_DEPTH, mode=Mode.SUBTRACT)


solid = part.part
